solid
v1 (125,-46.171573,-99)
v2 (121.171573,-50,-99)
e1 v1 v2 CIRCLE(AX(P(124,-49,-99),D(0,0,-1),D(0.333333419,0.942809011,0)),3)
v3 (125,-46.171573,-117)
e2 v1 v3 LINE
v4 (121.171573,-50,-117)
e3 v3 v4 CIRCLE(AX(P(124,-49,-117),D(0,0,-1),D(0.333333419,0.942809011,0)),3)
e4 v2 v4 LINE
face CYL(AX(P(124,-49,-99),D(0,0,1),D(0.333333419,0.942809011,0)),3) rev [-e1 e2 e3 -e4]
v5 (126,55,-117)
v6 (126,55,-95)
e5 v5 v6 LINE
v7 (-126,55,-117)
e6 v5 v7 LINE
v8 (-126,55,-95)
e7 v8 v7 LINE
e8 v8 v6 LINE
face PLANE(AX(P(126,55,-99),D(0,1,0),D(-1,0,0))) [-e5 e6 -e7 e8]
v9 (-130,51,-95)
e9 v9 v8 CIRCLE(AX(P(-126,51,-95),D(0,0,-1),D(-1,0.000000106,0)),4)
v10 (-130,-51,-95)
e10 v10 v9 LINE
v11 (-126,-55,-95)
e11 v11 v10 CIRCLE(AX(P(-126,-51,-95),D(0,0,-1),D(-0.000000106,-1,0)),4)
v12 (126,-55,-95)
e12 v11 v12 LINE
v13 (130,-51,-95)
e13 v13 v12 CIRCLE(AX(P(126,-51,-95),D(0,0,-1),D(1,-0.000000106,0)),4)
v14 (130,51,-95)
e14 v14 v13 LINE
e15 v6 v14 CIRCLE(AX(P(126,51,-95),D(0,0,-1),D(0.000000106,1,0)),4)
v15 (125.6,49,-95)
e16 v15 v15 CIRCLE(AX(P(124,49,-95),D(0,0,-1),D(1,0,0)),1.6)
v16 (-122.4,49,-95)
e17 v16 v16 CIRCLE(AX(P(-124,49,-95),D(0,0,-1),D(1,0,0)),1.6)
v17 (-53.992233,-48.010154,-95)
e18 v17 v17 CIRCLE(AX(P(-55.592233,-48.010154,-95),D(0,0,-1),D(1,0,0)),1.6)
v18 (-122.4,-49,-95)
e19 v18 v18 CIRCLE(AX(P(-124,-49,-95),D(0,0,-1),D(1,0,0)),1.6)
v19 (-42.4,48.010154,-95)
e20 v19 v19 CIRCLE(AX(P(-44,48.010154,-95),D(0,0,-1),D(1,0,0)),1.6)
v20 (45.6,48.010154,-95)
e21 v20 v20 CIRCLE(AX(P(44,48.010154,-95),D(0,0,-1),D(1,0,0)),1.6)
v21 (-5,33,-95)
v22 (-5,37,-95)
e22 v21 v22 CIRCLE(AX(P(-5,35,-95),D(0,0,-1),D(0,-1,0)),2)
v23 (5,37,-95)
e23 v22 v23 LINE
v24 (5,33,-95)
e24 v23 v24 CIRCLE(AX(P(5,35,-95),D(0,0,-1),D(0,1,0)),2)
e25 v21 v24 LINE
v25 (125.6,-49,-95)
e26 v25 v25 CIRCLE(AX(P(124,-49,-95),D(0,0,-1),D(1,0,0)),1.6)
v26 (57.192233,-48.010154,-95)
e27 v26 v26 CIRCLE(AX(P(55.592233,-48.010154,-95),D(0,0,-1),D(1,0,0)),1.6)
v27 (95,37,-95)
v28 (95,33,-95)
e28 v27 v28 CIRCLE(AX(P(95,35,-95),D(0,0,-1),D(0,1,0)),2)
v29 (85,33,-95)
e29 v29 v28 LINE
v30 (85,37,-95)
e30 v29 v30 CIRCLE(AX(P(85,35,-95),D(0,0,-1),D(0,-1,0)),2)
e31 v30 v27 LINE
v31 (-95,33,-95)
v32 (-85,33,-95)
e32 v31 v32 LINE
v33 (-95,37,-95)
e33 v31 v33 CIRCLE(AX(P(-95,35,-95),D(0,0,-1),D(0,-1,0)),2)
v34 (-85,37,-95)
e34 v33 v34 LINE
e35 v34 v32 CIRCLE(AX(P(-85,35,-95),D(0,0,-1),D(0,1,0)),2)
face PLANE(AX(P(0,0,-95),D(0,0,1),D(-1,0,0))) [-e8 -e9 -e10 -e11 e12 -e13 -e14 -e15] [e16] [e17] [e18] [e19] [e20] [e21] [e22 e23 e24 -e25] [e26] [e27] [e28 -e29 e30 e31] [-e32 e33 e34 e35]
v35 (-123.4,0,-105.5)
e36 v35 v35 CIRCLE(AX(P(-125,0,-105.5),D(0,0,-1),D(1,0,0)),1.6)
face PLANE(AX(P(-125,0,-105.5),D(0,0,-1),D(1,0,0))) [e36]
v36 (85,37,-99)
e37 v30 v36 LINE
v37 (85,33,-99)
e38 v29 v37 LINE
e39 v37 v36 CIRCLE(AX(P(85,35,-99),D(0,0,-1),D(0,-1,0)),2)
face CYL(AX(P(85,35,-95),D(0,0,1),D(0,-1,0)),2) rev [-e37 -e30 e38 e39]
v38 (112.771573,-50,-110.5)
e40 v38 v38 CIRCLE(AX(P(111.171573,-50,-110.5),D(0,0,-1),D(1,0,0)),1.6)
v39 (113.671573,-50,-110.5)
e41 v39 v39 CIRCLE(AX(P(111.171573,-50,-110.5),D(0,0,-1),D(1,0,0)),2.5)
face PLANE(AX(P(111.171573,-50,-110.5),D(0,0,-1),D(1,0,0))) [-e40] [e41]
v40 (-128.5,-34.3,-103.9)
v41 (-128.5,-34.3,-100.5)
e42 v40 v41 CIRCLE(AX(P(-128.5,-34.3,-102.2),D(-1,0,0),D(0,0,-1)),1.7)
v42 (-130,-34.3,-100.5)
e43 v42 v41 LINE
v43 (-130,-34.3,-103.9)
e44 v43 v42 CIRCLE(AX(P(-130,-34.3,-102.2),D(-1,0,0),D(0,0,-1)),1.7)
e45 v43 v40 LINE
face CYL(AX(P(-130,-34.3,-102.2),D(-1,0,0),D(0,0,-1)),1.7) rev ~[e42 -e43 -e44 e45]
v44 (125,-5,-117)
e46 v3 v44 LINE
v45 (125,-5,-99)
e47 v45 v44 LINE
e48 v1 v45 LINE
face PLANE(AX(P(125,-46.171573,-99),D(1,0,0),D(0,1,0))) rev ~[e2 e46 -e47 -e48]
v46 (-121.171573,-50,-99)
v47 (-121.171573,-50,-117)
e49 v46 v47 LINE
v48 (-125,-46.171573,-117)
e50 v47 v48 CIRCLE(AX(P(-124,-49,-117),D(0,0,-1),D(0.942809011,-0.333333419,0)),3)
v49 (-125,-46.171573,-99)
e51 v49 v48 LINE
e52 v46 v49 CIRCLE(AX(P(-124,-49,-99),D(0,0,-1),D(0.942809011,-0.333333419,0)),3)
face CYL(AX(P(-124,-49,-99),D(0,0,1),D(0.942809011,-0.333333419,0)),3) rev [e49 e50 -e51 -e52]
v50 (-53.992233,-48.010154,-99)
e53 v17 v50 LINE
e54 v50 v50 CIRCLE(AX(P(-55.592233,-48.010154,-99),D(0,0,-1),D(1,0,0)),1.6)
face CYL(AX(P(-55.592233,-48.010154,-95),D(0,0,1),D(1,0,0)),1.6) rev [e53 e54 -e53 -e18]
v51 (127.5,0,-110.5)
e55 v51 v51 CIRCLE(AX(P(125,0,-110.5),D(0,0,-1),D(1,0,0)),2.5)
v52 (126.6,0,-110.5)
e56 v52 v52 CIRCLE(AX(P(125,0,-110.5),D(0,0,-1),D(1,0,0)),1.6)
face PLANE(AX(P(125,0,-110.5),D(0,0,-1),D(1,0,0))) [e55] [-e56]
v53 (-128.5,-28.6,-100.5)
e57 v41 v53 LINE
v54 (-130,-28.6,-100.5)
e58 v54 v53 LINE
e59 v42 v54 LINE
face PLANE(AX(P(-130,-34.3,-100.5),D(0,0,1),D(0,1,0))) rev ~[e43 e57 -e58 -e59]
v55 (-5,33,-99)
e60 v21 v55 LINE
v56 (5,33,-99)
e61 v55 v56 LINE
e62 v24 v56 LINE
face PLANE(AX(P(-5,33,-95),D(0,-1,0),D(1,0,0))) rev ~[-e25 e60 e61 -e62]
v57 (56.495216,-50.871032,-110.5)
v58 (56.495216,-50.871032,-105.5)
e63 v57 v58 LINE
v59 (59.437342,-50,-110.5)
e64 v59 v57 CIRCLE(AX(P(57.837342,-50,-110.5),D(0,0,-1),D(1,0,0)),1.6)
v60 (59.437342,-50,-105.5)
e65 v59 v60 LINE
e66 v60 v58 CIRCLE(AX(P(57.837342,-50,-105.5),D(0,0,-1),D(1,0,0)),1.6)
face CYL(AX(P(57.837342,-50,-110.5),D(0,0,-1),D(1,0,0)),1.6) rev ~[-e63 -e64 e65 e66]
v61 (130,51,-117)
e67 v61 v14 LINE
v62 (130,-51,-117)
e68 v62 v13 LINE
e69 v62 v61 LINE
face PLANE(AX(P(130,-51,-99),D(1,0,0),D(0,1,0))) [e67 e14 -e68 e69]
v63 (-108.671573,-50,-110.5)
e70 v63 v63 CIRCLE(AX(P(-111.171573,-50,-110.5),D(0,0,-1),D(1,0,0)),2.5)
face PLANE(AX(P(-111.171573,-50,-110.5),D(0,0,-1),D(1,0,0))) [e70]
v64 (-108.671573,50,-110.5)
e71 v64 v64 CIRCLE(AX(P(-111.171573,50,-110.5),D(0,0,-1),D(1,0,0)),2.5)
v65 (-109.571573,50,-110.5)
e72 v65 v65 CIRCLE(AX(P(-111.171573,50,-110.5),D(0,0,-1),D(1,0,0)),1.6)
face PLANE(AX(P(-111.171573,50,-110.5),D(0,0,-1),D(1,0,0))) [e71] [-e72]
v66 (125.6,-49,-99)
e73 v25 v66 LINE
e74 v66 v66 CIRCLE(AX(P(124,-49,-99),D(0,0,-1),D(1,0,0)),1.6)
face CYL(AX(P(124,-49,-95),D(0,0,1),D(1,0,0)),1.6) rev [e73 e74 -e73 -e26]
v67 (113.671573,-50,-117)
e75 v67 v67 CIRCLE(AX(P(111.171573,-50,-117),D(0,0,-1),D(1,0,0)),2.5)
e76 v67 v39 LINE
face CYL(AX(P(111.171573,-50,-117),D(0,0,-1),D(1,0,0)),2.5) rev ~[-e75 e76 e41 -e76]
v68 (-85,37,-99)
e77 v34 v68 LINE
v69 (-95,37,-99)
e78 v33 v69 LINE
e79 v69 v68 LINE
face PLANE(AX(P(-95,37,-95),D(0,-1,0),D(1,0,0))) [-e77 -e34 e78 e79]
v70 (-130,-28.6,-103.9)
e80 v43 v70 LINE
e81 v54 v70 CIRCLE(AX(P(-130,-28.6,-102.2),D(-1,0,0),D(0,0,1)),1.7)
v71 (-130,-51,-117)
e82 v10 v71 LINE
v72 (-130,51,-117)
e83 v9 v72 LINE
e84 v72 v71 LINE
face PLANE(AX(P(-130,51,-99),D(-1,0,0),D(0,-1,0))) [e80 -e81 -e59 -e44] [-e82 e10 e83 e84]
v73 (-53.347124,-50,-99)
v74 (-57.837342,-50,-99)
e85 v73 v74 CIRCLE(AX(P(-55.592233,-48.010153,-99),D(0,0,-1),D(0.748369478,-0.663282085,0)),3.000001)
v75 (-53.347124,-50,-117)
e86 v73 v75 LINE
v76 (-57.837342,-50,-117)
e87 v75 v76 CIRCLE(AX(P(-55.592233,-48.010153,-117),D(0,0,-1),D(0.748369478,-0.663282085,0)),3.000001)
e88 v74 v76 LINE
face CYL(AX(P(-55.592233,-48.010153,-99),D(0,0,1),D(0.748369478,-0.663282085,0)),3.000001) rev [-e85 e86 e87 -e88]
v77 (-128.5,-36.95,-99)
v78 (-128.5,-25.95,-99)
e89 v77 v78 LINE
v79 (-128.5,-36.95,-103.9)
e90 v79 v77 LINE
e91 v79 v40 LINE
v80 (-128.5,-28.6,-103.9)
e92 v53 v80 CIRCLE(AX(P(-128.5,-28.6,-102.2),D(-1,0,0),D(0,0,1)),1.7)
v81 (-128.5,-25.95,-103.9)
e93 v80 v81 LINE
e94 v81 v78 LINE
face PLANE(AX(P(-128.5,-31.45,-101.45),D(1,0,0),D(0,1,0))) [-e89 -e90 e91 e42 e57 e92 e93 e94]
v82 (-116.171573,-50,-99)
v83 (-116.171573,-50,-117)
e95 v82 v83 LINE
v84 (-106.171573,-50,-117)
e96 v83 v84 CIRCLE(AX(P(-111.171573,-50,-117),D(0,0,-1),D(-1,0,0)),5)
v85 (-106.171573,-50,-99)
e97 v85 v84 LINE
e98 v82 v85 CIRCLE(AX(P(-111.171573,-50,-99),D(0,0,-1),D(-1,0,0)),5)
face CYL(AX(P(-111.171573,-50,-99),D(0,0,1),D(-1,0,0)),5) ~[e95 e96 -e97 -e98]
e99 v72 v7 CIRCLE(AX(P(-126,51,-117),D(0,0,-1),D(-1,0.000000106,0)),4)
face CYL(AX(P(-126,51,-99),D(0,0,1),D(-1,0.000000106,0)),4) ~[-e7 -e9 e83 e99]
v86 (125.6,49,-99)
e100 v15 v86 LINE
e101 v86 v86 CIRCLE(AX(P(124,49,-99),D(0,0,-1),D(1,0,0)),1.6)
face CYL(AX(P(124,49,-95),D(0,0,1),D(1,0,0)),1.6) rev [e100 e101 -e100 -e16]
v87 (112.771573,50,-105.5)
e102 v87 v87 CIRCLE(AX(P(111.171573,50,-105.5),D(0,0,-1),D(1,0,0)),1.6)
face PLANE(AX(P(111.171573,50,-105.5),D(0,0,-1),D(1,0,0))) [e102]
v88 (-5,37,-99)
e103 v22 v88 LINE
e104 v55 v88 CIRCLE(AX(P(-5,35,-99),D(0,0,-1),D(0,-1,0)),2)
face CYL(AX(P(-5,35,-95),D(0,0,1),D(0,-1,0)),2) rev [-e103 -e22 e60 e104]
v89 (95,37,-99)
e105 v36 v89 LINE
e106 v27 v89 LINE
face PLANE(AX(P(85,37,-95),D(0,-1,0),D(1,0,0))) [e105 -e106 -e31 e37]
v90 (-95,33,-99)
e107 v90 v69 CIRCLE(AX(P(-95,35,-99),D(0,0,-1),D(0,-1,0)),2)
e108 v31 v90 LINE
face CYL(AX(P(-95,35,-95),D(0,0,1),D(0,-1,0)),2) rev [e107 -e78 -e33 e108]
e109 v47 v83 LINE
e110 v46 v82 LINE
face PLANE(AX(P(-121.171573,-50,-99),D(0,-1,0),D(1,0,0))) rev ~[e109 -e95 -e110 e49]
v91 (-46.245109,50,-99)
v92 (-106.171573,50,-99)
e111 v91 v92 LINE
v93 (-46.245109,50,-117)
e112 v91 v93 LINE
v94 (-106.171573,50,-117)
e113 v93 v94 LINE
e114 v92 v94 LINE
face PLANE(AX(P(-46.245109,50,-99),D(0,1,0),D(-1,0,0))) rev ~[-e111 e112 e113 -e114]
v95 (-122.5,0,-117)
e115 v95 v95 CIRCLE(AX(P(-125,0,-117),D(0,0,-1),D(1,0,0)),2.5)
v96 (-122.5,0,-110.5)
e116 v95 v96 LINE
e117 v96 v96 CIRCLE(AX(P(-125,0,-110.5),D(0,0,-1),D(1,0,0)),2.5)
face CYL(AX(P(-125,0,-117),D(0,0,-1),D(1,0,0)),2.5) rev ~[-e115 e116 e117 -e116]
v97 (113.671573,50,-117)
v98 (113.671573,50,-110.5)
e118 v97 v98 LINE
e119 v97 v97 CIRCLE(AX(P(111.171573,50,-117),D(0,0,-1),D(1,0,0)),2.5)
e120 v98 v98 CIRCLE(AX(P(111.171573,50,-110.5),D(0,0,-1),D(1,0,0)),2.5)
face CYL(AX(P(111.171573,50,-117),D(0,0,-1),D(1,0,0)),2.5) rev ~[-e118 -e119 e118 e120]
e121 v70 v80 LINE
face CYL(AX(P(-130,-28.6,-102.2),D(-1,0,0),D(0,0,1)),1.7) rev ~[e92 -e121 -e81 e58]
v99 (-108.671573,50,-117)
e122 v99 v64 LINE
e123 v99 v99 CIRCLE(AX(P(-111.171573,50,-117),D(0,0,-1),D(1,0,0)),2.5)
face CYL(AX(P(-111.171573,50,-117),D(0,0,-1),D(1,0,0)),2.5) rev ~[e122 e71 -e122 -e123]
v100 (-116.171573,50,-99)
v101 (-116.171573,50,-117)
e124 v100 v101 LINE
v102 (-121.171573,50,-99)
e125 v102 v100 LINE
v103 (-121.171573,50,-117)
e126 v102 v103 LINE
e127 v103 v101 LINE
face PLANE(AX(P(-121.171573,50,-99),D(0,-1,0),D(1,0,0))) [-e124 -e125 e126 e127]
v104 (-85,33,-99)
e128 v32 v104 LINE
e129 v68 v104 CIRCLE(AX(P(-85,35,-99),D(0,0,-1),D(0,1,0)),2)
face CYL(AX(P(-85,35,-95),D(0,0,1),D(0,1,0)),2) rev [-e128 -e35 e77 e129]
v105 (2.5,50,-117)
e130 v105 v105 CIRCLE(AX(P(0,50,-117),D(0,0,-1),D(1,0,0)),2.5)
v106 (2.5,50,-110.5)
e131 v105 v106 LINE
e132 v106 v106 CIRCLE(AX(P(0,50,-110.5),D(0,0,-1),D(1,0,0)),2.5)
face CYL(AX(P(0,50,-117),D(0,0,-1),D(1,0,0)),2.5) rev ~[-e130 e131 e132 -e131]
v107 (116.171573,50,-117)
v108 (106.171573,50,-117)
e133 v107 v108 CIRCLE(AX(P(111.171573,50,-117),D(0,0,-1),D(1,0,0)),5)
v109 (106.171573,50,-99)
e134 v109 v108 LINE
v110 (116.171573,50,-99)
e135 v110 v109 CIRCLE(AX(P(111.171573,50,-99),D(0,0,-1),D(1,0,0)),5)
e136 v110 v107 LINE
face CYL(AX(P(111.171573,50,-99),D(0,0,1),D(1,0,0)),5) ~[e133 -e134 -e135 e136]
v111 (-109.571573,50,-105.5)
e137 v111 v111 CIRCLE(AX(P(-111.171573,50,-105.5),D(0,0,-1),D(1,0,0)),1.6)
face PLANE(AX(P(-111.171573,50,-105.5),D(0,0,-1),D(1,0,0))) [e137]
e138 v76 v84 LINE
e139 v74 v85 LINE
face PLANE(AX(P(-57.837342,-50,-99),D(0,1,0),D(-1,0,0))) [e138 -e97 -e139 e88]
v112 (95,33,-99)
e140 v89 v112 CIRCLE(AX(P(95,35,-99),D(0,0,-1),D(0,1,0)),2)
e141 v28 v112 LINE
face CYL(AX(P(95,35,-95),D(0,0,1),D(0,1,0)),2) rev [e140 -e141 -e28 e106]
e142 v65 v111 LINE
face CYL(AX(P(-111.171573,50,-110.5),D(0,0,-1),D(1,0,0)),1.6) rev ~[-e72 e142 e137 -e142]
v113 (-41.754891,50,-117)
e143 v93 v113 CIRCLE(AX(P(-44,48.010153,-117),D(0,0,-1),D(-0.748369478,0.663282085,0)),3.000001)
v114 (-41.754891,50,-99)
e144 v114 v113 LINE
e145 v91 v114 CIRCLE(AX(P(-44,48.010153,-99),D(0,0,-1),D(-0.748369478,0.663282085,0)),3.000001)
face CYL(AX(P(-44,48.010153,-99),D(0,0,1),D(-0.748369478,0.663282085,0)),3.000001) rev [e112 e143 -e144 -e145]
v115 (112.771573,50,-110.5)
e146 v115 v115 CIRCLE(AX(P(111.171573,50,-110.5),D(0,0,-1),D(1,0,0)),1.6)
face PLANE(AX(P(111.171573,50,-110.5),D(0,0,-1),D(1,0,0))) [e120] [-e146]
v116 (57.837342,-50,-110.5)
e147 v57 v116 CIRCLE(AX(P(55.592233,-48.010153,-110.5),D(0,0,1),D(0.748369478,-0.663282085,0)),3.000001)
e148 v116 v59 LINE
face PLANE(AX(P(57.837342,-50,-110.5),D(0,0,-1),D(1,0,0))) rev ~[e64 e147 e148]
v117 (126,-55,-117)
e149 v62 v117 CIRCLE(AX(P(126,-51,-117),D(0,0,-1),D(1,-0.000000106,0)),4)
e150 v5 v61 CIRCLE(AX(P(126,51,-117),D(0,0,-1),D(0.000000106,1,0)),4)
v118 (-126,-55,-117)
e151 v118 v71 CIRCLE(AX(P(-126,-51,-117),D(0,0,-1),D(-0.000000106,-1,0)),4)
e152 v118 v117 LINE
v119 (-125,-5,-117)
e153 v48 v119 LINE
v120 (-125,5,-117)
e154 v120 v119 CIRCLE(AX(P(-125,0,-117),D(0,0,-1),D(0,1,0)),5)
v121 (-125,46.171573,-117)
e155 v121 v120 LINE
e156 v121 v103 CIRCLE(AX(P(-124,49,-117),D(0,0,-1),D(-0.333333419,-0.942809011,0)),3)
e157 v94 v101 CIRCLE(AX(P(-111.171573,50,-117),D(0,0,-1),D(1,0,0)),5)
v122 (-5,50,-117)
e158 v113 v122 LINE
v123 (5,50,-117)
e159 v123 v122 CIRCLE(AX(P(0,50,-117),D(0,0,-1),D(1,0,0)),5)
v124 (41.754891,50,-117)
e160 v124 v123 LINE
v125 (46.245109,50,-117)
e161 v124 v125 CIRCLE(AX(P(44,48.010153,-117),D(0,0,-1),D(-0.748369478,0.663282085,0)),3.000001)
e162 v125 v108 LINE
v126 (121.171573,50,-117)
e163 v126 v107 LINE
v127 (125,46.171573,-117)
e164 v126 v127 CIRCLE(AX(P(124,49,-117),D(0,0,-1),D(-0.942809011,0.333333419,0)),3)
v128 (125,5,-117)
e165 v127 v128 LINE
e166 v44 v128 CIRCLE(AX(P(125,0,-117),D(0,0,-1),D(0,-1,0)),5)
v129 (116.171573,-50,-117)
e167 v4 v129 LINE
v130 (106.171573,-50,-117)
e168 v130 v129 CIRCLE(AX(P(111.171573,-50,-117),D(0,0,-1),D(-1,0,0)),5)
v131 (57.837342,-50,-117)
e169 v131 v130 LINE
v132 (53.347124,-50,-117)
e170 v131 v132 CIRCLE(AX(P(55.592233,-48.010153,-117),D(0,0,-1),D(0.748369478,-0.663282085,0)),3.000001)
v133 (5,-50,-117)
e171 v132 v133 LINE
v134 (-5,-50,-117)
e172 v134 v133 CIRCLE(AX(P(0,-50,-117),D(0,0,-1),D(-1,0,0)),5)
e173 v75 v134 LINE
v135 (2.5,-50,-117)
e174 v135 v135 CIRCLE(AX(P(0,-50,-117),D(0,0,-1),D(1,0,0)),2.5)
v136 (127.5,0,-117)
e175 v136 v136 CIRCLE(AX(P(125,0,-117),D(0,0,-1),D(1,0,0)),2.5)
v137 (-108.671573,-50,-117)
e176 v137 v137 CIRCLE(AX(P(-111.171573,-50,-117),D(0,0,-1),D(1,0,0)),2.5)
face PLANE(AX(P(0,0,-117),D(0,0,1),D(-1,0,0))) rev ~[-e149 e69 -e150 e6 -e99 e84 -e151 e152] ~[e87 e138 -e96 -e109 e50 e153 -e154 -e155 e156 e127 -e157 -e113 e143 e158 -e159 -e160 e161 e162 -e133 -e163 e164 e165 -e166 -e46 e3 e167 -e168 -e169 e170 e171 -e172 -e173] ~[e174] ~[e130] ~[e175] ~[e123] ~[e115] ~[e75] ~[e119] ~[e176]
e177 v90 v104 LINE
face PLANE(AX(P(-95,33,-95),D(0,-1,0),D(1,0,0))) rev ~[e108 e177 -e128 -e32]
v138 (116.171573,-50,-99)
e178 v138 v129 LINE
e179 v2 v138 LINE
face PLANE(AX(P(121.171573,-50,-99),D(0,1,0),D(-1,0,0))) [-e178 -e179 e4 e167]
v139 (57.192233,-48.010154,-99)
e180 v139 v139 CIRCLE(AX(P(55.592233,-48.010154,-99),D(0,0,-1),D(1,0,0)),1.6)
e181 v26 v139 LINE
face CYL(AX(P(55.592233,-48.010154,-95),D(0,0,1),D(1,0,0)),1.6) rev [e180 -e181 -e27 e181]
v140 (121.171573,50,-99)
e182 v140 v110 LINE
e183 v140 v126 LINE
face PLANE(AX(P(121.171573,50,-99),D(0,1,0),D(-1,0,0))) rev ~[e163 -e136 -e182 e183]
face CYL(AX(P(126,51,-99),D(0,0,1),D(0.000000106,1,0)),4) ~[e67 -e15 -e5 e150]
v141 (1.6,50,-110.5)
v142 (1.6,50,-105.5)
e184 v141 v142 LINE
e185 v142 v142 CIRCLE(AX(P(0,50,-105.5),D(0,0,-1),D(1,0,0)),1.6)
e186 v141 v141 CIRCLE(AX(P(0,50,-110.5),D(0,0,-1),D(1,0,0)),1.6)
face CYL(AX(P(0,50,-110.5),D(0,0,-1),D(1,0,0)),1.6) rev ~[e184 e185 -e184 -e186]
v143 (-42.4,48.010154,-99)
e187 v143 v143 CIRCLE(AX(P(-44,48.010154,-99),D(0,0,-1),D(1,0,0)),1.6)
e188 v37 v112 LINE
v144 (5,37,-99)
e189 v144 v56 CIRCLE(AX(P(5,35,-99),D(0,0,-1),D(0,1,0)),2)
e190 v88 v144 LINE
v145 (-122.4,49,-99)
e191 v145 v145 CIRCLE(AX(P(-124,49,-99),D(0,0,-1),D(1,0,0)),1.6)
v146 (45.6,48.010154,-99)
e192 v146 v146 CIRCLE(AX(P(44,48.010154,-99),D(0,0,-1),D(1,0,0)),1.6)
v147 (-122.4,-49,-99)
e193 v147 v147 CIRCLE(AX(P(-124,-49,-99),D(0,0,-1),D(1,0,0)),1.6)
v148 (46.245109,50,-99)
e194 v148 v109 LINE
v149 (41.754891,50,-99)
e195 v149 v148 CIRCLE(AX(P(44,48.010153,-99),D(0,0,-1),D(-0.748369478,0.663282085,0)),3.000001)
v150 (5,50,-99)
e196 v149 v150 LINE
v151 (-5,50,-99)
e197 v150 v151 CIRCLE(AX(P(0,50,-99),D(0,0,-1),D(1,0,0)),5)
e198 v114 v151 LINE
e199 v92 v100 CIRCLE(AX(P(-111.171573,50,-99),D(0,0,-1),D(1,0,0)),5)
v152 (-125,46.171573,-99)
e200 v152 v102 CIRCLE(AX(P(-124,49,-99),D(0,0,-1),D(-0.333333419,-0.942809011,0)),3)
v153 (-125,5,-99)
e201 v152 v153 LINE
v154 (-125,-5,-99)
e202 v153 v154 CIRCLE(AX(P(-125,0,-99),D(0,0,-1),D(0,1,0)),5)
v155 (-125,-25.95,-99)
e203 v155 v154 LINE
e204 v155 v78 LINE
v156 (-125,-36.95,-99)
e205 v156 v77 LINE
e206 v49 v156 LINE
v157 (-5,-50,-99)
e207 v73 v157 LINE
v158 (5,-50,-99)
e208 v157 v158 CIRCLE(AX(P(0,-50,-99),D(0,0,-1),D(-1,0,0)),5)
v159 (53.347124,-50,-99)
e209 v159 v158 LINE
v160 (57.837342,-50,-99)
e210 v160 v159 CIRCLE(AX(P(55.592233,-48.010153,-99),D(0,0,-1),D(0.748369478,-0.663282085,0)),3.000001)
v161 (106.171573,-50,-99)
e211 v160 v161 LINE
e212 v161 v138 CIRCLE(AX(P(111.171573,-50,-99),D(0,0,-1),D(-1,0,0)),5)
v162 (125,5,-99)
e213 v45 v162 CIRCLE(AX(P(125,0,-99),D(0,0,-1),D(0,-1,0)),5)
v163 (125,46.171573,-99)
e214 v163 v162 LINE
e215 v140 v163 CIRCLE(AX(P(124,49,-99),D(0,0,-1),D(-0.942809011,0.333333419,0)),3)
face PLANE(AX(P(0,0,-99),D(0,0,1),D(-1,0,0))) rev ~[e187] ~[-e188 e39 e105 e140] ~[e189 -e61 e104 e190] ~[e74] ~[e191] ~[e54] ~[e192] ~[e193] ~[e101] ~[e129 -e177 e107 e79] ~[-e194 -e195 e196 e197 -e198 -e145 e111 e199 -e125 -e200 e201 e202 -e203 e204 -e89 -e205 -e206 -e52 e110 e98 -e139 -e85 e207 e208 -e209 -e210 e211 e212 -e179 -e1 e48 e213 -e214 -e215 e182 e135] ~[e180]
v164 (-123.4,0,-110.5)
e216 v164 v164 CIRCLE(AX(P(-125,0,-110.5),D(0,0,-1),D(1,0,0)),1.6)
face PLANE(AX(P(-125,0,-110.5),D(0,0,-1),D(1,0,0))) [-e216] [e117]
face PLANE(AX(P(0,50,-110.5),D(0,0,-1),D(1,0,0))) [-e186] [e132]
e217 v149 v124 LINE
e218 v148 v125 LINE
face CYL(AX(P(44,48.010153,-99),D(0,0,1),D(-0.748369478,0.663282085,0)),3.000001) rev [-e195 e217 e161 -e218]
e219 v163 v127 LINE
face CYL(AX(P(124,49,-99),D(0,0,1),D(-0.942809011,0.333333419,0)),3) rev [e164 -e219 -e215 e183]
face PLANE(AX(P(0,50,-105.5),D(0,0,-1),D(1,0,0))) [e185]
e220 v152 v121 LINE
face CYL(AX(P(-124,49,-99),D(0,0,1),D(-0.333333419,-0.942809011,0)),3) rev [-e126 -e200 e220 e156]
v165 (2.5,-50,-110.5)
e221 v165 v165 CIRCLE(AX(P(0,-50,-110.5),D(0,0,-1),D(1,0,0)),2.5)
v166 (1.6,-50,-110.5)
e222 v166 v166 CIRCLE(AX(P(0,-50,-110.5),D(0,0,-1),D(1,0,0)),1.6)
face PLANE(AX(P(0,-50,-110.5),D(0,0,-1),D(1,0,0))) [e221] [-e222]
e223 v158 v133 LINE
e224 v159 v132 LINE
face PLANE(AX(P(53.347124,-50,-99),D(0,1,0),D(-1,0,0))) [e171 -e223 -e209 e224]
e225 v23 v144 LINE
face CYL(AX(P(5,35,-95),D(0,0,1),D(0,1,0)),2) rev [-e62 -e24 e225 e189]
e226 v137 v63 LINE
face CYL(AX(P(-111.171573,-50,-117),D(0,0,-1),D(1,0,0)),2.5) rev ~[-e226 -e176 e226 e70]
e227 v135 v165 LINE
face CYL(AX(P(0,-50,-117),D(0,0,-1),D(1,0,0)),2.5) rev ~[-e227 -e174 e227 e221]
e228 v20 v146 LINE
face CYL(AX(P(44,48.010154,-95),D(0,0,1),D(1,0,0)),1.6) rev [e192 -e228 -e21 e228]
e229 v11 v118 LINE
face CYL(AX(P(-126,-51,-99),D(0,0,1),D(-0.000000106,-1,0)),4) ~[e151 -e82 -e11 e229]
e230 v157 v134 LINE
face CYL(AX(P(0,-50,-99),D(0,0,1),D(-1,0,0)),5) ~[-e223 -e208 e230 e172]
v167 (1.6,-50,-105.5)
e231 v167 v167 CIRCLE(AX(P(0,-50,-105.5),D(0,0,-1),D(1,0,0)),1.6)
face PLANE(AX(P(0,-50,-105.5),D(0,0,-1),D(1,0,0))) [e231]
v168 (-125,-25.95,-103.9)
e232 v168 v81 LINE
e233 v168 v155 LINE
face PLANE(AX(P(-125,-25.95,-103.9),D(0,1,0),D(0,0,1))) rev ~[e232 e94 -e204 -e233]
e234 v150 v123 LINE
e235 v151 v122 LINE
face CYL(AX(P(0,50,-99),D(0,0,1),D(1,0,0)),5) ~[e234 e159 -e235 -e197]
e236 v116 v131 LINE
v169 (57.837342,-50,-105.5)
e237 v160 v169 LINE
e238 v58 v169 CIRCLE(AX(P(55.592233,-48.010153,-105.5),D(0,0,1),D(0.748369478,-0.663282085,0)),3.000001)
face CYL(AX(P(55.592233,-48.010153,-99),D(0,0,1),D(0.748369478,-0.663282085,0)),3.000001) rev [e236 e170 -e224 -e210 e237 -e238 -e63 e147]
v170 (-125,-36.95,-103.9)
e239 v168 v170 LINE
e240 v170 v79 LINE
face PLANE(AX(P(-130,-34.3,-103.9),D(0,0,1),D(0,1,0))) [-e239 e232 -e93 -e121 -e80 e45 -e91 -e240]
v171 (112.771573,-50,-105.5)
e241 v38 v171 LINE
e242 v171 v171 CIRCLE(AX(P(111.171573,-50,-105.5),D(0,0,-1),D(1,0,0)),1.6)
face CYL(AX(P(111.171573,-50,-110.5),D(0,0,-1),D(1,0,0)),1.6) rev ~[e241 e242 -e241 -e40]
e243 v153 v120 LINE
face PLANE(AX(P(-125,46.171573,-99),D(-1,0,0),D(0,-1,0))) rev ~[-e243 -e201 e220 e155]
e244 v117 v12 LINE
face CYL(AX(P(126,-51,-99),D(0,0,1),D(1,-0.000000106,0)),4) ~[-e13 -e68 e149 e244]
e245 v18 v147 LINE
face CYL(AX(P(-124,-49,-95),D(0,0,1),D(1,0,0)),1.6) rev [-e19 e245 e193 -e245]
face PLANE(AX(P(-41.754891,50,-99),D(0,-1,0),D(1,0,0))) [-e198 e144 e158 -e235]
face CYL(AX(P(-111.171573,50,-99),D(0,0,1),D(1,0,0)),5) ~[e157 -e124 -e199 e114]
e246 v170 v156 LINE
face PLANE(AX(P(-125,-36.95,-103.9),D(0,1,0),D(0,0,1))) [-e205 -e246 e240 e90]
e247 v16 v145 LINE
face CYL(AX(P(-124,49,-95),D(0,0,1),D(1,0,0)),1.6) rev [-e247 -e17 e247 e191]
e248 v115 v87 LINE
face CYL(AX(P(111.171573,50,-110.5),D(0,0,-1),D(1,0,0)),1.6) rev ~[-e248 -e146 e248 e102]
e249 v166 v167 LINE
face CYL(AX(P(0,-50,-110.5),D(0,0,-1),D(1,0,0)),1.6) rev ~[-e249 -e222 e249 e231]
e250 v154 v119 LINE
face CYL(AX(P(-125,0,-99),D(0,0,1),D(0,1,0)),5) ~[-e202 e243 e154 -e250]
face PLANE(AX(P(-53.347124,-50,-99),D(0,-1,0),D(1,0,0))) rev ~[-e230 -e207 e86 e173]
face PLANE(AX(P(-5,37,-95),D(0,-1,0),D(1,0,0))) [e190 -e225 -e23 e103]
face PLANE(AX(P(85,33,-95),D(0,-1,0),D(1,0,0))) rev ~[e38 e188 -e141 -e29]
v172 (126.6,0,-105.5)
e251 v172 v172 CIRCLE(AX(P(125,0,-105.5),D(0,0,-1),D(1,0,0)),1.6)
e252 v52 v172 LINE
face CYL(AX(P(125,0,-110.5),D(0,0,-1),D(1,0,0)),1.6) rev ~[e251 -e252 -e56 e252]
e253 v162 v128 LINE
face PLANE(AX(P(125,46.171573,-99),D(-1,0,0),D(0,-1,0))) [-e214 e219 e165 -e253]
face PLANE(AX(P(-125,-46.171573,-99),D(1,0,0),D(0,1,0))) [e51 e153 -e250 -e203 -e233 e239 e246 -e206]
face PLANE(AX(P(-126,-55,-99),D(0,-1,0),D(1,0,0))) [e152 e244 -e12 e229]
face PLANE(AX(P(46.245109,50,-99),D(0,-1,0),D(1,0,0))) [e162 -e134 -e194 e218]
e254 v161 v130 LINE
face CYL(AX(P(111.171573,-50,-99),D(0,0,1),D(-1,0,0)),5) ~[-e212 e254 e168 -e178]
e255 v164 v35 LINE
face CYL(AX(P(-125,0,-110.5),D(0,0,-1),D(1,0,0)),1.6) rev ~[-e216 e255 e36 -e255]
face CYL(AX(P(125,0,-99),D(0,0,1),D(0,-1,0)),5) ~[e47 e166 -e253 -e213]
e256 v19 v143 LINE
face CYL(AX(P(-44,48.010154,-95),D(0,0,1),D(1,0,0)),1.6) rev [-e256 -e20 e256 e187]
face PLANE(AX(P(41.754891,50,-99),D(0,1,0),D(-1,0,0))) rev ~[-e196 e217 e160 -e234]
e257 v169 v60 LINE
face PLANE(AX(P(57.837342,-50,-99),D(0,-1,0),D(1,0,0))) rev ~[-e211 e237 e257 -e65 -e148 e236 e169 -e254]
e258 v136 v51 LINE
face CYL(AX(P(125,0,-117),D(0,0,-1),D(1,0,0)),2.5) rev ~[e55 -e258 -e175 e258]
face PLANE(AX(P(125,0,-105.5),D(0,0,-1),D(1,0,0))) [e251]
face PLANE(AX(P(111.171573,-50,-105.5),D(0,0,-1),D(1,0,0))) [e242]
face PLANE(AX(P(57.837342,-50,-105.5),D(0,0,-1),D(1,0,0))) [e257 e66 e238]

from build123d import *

# Parameters (mm, degrees)
SKETCH022_R     = 1.6
PAD008_DEPTH    = 4
PAD009_DEPTH    = 18
SKETCH024_R     = 2.5
POCKET014_DEPTH = 6.5
SKETCH025_R     = 1.6
POCKET015_DEPTH = 5
POCKET020_DEPTH = 5
SKETCH038_W     = 11
SKETCH038_H     = 4.9
POCKET024_DEPTH = 3.5


with BuildPart() as part:
    # Sketch022 (on ShapeBinder) → Pad008 (new body)
    with BuildSketch(Plane(origin=(0, 0, -95), x_dir=(1, 0, 0), z_dir=(0, 0, -1))):
        with BuildLine():
            Line((-126, 55), (126, 55))
            ThreePointArc((130, 51), (128.828427, 53.828427), (126, 55))
            Line((130, -51), (130, 51))
            ThreePointArc((126, -55), (128.828427, -53.828427), (130, -51))
            Line((-126, -55), (126, -55))
            ThreePointArc((-130, -51), (-128.828427, -53.828427), (-126, -55))
            Line((-130, 51), (-130, -51))
            ThreePointArc((-126, 55), (-128.828427, 53.828427), (-130, 51))
        make_face()
        with Locations((124, 49)):
            Circle(SKETCH022_R, mode=Mode.SUBTRACT)
        with Locations((124, -49)):
            Circle(SKETCH022_R, mode=Mode.SUBTRACT)
        with Locations((44, -48.010154)):
            Circle(SKETCH022_R, mode=Mode.SUBTRACT)
        with Locations((-44, -48.010154)):
            Circle(SKETCH022_R, mode=Mode.SUBTRACT)
        with Locations((-124, -49)):
            Circle(SKETCH022_R, mode=Mode.SUBTRACT)
        with Locations((-124, 49)):
            Circle(SKETCH022_R, mode=Mode.SUBTRACT)
        with Locations((-55.592233, 48.010154)):
            Circle(SKETCH022_R, mode=Mode.SUBTRACT)
        with Locations((55.592233, 48.010154)):
            Circle(SKETCH022_R, mode=Mode.SUBTRACT)
        with BuildLine():
            ThreePointArc((-95, -33), (-97, -35), (-95, -37))
            Line((-95, -37), (-85, -37))
            ThreePointArc((-85, -37), (-83, -35), (-85, -33))
            Line((-95, -33), (-85, -33))
        make_face(mode=Mode.SUBTRACT)
        with BuildLine():
            ThreePointArc((-5, -33), (-7, -35), (-5, -37))
            Line((-5, -37), (5, -37))
            ThreePointArc((5, -37), (7, -35), (5, -33))
            Line((-5, -33), (5, -33))
        make_face(mode=Mode.SUBTRACT)
        with BuildLine():
            ThreePointArc((85, -33), (83, -35), (85, -37))
            Line((85, -37), (95, -37))
            ThreePointArc((95, -37), (97, -35), (95, -33))
            Line((85, -33), (95, -33))
        make_face(mode=Mode.SUBTRACT)
    extrude(amount=PAD008_DEPTH)

    # Sketch023 (on Face30 of Pad008) → Pad009 (join)
    with BuildSketch(Plane(origin=(0, 0, -99), x_dir=(1, 0, 0), z_dir=(0, 0, -1))):
        with BuildLine():
            Line((-126, 55), (126, 55))
            ThreePointArc((130, 51), (128.828427, 53.828427), (126, 55))
            Line((130, 51), (130, -51))
            ThreePointArc((126, -55), (128.828427, -53.828427), (130, -51))
            Line((126, -55), (-126, -55))
            ThreePointArc((-130, -51), (-128.828427, -53.828427), (-126, -55))
            Line((-130, -51), (-130, 51))
            ThreePointArc((-126, 55), (-128.828427, 53.828427), (-130, 51))
        make_face()
        with BuildLine():
            ThreePointArc((-46.245109, -50), (-44, -51.010154), (-41.754891, -50))
            Line((-41.754891, -50), (-5, -50))
            ThreePointArc((5, -50), (0, -45), (-5, -50))
            Line((41.754891, -50), (5, -50))
            ThreePointArc((41.754891, -50), (44, -51.010154), (46.245109, -50))
            Line((46.245109, -50), (106.171573, -50))
            ThreePointArc((116.171573, -50), (111.171573, -45), (106.171573, -50))
            Line((121.171573, -50), (116.171573, -50))
            ThreePointArc((121.171573, -50), (126.12132, -51.12132), (125, -46.171573))
            Line((125, -46.171573), (125, -5))
            ThreePointArc((125, 5), (120, 0), (125, -5))
            Line((125, 46.171573), (125, 5))
            ThreePointArc((125, 46.171573), (126.12132, 51.12132), (121.171573, 50))
            Line((121.171573, 50), (116.171573, 50))
            ThreePointArc((106.171573, 50), (111.171573, 45), (116.171573, 50))
            Line((57.837342, 50), (106.171573, 50))
            ThreePointArc((57.837342, 50), (55.592233, 51.010154), (53.347124, 50))
            Line((53.347124, 50), (5, 50))
            ThreePointArc((-5, 50), (0, 45), (5, 50))
            Line((-53.347124, 50), (-5, 50))
            ThreePointArc((-53.347124, 50), (-55.592233, 51.010154), (-57.837342, 50))
            Line((-57.837342, 50), (-106.171573, 50))
            ThreePointArc((-116.171573, 50), (-111.171573, 45), (-106.171573, 50))
            Line((-121.171573, 50), (-116.171573, 50))
            ThreePointArc((-121.171573, 50), (-126.12132, 51.12132), (-125, 46.171573))
            Line((-125, 46.171573), (-125, 5))
            ThreePointArc((-125, -5), (-120, 0), (-125, 5))
            Line((-125, -46.171573), (-125, -5))
            ThreePointArc((-125, -46.171573), (-126.12132, -51.12132), (-121.171573, -50))
            Line((-121.171573, -50), (-116.171573, -50))
            ThreePointArc((-106.171573, -50), (-111.171573, -45), (-116.171573, -50))
            Line((-46.245109, -50), (-106.171573, -50))
        make_face(mode=Mode.SUBTRACT)
    extrude(amount=PAD009_DEPTH)

    # Sketch024 (on Face33 of Pad009) → Pocket014 (cut)
    with BuildSketch(Plane(origin=(0, 0, -117), x_dir=(1, 0, 0), z_dir=(0, 0, -1))):
        with Locations((-111.171573, 50)):
            Circle(SKETCH024_R)
        with Locations((0, 50)):
            Circle(SKETCH024_R)
        with Locations((111.171573, 50)):
            Circle(SKETCH024_R)
        with Locations((-125, 0)):
            Circle(SKETCH024_R)
        with Locations((-111.171573, -50)):
            Circle(SKETCH024_R)
        with Locations((0, -50)):
            Circle(SKETCH024_R)
        with Locations((111.171573, -50)):
            Circle(SKETCH024_R)
        with Locations((125, 0)):
            Circle(SKETCH024_R)
    extrude(amount=-POCKET014_DEPTH, mode=Mode.SUBTRACT)

    # Sketch025 (on Face83 of Pocket014) → Pocket015 (cut)
    with BuildSketch(Plane(origin=(0, 0, -110.5), x_dir=(1, 0, 0), z_dir=(0, 0, -1))):
        with Locations((0, -50)):
            Circle(SKETCH025_R)
        with Locations((-125, 0)):
            Circle(SKETCH025_R)
        with Locations((111.171573, -50)):
            Circle(SKETCH025_R)
        with Locations((-111.171573, -50)):
            Circle(SKETCH025_R)
        with Locations((57.837342, 50)):
            Circle(SKETCH025_R)
        with Locations((125, 0)):
            Circle(SKETCH025_R)
        with Locations((0, 50)):
            Circle(SKETCH025_R)
        with Locations((111.171573, 50)):
            Circle(SKETCH025_R)
    extrude(amount=-POCKET015_DEPTH, mode=Mode.SUBTRACT)

    # Sketch032 (on Face9 of Pocket015) → Pocket020 (cut)
    with BuildSketch(Plane(origin=(-130, 0, 0), x_dir=(0, -1, 0), z_dir=(-1, 0, 0))):
        with BuildLine():
            ThreePointArc((34.3, -103.9), (36, -102.2), (34.3, -100.5))
            Line((34.3, -100.5), (28.6, -100.5))
            ThreePointArc((28.6, -100.5), (26.9, -102.2), (28.6, -103.9))
            Line((34.3, -103.9), (28.6, -103.9))
        make_face()
    extrude(amount=-POCKET020_DEPTH, mode=Mode.SUBTRACT)

    # Sketch038 (on Face62 of Pocket020) → Pocket024 (cut)
    with BuildSketch(Plane.YZ.offset(-125)):
        with Locations((-31.45, -101.45)):
            Rectangle(SKETCH038_W, SKETCH038_H)
    extrude(amount=-POCKET024_DEPTH, mode=Mode.SUBTRACT)


solid = part.part
